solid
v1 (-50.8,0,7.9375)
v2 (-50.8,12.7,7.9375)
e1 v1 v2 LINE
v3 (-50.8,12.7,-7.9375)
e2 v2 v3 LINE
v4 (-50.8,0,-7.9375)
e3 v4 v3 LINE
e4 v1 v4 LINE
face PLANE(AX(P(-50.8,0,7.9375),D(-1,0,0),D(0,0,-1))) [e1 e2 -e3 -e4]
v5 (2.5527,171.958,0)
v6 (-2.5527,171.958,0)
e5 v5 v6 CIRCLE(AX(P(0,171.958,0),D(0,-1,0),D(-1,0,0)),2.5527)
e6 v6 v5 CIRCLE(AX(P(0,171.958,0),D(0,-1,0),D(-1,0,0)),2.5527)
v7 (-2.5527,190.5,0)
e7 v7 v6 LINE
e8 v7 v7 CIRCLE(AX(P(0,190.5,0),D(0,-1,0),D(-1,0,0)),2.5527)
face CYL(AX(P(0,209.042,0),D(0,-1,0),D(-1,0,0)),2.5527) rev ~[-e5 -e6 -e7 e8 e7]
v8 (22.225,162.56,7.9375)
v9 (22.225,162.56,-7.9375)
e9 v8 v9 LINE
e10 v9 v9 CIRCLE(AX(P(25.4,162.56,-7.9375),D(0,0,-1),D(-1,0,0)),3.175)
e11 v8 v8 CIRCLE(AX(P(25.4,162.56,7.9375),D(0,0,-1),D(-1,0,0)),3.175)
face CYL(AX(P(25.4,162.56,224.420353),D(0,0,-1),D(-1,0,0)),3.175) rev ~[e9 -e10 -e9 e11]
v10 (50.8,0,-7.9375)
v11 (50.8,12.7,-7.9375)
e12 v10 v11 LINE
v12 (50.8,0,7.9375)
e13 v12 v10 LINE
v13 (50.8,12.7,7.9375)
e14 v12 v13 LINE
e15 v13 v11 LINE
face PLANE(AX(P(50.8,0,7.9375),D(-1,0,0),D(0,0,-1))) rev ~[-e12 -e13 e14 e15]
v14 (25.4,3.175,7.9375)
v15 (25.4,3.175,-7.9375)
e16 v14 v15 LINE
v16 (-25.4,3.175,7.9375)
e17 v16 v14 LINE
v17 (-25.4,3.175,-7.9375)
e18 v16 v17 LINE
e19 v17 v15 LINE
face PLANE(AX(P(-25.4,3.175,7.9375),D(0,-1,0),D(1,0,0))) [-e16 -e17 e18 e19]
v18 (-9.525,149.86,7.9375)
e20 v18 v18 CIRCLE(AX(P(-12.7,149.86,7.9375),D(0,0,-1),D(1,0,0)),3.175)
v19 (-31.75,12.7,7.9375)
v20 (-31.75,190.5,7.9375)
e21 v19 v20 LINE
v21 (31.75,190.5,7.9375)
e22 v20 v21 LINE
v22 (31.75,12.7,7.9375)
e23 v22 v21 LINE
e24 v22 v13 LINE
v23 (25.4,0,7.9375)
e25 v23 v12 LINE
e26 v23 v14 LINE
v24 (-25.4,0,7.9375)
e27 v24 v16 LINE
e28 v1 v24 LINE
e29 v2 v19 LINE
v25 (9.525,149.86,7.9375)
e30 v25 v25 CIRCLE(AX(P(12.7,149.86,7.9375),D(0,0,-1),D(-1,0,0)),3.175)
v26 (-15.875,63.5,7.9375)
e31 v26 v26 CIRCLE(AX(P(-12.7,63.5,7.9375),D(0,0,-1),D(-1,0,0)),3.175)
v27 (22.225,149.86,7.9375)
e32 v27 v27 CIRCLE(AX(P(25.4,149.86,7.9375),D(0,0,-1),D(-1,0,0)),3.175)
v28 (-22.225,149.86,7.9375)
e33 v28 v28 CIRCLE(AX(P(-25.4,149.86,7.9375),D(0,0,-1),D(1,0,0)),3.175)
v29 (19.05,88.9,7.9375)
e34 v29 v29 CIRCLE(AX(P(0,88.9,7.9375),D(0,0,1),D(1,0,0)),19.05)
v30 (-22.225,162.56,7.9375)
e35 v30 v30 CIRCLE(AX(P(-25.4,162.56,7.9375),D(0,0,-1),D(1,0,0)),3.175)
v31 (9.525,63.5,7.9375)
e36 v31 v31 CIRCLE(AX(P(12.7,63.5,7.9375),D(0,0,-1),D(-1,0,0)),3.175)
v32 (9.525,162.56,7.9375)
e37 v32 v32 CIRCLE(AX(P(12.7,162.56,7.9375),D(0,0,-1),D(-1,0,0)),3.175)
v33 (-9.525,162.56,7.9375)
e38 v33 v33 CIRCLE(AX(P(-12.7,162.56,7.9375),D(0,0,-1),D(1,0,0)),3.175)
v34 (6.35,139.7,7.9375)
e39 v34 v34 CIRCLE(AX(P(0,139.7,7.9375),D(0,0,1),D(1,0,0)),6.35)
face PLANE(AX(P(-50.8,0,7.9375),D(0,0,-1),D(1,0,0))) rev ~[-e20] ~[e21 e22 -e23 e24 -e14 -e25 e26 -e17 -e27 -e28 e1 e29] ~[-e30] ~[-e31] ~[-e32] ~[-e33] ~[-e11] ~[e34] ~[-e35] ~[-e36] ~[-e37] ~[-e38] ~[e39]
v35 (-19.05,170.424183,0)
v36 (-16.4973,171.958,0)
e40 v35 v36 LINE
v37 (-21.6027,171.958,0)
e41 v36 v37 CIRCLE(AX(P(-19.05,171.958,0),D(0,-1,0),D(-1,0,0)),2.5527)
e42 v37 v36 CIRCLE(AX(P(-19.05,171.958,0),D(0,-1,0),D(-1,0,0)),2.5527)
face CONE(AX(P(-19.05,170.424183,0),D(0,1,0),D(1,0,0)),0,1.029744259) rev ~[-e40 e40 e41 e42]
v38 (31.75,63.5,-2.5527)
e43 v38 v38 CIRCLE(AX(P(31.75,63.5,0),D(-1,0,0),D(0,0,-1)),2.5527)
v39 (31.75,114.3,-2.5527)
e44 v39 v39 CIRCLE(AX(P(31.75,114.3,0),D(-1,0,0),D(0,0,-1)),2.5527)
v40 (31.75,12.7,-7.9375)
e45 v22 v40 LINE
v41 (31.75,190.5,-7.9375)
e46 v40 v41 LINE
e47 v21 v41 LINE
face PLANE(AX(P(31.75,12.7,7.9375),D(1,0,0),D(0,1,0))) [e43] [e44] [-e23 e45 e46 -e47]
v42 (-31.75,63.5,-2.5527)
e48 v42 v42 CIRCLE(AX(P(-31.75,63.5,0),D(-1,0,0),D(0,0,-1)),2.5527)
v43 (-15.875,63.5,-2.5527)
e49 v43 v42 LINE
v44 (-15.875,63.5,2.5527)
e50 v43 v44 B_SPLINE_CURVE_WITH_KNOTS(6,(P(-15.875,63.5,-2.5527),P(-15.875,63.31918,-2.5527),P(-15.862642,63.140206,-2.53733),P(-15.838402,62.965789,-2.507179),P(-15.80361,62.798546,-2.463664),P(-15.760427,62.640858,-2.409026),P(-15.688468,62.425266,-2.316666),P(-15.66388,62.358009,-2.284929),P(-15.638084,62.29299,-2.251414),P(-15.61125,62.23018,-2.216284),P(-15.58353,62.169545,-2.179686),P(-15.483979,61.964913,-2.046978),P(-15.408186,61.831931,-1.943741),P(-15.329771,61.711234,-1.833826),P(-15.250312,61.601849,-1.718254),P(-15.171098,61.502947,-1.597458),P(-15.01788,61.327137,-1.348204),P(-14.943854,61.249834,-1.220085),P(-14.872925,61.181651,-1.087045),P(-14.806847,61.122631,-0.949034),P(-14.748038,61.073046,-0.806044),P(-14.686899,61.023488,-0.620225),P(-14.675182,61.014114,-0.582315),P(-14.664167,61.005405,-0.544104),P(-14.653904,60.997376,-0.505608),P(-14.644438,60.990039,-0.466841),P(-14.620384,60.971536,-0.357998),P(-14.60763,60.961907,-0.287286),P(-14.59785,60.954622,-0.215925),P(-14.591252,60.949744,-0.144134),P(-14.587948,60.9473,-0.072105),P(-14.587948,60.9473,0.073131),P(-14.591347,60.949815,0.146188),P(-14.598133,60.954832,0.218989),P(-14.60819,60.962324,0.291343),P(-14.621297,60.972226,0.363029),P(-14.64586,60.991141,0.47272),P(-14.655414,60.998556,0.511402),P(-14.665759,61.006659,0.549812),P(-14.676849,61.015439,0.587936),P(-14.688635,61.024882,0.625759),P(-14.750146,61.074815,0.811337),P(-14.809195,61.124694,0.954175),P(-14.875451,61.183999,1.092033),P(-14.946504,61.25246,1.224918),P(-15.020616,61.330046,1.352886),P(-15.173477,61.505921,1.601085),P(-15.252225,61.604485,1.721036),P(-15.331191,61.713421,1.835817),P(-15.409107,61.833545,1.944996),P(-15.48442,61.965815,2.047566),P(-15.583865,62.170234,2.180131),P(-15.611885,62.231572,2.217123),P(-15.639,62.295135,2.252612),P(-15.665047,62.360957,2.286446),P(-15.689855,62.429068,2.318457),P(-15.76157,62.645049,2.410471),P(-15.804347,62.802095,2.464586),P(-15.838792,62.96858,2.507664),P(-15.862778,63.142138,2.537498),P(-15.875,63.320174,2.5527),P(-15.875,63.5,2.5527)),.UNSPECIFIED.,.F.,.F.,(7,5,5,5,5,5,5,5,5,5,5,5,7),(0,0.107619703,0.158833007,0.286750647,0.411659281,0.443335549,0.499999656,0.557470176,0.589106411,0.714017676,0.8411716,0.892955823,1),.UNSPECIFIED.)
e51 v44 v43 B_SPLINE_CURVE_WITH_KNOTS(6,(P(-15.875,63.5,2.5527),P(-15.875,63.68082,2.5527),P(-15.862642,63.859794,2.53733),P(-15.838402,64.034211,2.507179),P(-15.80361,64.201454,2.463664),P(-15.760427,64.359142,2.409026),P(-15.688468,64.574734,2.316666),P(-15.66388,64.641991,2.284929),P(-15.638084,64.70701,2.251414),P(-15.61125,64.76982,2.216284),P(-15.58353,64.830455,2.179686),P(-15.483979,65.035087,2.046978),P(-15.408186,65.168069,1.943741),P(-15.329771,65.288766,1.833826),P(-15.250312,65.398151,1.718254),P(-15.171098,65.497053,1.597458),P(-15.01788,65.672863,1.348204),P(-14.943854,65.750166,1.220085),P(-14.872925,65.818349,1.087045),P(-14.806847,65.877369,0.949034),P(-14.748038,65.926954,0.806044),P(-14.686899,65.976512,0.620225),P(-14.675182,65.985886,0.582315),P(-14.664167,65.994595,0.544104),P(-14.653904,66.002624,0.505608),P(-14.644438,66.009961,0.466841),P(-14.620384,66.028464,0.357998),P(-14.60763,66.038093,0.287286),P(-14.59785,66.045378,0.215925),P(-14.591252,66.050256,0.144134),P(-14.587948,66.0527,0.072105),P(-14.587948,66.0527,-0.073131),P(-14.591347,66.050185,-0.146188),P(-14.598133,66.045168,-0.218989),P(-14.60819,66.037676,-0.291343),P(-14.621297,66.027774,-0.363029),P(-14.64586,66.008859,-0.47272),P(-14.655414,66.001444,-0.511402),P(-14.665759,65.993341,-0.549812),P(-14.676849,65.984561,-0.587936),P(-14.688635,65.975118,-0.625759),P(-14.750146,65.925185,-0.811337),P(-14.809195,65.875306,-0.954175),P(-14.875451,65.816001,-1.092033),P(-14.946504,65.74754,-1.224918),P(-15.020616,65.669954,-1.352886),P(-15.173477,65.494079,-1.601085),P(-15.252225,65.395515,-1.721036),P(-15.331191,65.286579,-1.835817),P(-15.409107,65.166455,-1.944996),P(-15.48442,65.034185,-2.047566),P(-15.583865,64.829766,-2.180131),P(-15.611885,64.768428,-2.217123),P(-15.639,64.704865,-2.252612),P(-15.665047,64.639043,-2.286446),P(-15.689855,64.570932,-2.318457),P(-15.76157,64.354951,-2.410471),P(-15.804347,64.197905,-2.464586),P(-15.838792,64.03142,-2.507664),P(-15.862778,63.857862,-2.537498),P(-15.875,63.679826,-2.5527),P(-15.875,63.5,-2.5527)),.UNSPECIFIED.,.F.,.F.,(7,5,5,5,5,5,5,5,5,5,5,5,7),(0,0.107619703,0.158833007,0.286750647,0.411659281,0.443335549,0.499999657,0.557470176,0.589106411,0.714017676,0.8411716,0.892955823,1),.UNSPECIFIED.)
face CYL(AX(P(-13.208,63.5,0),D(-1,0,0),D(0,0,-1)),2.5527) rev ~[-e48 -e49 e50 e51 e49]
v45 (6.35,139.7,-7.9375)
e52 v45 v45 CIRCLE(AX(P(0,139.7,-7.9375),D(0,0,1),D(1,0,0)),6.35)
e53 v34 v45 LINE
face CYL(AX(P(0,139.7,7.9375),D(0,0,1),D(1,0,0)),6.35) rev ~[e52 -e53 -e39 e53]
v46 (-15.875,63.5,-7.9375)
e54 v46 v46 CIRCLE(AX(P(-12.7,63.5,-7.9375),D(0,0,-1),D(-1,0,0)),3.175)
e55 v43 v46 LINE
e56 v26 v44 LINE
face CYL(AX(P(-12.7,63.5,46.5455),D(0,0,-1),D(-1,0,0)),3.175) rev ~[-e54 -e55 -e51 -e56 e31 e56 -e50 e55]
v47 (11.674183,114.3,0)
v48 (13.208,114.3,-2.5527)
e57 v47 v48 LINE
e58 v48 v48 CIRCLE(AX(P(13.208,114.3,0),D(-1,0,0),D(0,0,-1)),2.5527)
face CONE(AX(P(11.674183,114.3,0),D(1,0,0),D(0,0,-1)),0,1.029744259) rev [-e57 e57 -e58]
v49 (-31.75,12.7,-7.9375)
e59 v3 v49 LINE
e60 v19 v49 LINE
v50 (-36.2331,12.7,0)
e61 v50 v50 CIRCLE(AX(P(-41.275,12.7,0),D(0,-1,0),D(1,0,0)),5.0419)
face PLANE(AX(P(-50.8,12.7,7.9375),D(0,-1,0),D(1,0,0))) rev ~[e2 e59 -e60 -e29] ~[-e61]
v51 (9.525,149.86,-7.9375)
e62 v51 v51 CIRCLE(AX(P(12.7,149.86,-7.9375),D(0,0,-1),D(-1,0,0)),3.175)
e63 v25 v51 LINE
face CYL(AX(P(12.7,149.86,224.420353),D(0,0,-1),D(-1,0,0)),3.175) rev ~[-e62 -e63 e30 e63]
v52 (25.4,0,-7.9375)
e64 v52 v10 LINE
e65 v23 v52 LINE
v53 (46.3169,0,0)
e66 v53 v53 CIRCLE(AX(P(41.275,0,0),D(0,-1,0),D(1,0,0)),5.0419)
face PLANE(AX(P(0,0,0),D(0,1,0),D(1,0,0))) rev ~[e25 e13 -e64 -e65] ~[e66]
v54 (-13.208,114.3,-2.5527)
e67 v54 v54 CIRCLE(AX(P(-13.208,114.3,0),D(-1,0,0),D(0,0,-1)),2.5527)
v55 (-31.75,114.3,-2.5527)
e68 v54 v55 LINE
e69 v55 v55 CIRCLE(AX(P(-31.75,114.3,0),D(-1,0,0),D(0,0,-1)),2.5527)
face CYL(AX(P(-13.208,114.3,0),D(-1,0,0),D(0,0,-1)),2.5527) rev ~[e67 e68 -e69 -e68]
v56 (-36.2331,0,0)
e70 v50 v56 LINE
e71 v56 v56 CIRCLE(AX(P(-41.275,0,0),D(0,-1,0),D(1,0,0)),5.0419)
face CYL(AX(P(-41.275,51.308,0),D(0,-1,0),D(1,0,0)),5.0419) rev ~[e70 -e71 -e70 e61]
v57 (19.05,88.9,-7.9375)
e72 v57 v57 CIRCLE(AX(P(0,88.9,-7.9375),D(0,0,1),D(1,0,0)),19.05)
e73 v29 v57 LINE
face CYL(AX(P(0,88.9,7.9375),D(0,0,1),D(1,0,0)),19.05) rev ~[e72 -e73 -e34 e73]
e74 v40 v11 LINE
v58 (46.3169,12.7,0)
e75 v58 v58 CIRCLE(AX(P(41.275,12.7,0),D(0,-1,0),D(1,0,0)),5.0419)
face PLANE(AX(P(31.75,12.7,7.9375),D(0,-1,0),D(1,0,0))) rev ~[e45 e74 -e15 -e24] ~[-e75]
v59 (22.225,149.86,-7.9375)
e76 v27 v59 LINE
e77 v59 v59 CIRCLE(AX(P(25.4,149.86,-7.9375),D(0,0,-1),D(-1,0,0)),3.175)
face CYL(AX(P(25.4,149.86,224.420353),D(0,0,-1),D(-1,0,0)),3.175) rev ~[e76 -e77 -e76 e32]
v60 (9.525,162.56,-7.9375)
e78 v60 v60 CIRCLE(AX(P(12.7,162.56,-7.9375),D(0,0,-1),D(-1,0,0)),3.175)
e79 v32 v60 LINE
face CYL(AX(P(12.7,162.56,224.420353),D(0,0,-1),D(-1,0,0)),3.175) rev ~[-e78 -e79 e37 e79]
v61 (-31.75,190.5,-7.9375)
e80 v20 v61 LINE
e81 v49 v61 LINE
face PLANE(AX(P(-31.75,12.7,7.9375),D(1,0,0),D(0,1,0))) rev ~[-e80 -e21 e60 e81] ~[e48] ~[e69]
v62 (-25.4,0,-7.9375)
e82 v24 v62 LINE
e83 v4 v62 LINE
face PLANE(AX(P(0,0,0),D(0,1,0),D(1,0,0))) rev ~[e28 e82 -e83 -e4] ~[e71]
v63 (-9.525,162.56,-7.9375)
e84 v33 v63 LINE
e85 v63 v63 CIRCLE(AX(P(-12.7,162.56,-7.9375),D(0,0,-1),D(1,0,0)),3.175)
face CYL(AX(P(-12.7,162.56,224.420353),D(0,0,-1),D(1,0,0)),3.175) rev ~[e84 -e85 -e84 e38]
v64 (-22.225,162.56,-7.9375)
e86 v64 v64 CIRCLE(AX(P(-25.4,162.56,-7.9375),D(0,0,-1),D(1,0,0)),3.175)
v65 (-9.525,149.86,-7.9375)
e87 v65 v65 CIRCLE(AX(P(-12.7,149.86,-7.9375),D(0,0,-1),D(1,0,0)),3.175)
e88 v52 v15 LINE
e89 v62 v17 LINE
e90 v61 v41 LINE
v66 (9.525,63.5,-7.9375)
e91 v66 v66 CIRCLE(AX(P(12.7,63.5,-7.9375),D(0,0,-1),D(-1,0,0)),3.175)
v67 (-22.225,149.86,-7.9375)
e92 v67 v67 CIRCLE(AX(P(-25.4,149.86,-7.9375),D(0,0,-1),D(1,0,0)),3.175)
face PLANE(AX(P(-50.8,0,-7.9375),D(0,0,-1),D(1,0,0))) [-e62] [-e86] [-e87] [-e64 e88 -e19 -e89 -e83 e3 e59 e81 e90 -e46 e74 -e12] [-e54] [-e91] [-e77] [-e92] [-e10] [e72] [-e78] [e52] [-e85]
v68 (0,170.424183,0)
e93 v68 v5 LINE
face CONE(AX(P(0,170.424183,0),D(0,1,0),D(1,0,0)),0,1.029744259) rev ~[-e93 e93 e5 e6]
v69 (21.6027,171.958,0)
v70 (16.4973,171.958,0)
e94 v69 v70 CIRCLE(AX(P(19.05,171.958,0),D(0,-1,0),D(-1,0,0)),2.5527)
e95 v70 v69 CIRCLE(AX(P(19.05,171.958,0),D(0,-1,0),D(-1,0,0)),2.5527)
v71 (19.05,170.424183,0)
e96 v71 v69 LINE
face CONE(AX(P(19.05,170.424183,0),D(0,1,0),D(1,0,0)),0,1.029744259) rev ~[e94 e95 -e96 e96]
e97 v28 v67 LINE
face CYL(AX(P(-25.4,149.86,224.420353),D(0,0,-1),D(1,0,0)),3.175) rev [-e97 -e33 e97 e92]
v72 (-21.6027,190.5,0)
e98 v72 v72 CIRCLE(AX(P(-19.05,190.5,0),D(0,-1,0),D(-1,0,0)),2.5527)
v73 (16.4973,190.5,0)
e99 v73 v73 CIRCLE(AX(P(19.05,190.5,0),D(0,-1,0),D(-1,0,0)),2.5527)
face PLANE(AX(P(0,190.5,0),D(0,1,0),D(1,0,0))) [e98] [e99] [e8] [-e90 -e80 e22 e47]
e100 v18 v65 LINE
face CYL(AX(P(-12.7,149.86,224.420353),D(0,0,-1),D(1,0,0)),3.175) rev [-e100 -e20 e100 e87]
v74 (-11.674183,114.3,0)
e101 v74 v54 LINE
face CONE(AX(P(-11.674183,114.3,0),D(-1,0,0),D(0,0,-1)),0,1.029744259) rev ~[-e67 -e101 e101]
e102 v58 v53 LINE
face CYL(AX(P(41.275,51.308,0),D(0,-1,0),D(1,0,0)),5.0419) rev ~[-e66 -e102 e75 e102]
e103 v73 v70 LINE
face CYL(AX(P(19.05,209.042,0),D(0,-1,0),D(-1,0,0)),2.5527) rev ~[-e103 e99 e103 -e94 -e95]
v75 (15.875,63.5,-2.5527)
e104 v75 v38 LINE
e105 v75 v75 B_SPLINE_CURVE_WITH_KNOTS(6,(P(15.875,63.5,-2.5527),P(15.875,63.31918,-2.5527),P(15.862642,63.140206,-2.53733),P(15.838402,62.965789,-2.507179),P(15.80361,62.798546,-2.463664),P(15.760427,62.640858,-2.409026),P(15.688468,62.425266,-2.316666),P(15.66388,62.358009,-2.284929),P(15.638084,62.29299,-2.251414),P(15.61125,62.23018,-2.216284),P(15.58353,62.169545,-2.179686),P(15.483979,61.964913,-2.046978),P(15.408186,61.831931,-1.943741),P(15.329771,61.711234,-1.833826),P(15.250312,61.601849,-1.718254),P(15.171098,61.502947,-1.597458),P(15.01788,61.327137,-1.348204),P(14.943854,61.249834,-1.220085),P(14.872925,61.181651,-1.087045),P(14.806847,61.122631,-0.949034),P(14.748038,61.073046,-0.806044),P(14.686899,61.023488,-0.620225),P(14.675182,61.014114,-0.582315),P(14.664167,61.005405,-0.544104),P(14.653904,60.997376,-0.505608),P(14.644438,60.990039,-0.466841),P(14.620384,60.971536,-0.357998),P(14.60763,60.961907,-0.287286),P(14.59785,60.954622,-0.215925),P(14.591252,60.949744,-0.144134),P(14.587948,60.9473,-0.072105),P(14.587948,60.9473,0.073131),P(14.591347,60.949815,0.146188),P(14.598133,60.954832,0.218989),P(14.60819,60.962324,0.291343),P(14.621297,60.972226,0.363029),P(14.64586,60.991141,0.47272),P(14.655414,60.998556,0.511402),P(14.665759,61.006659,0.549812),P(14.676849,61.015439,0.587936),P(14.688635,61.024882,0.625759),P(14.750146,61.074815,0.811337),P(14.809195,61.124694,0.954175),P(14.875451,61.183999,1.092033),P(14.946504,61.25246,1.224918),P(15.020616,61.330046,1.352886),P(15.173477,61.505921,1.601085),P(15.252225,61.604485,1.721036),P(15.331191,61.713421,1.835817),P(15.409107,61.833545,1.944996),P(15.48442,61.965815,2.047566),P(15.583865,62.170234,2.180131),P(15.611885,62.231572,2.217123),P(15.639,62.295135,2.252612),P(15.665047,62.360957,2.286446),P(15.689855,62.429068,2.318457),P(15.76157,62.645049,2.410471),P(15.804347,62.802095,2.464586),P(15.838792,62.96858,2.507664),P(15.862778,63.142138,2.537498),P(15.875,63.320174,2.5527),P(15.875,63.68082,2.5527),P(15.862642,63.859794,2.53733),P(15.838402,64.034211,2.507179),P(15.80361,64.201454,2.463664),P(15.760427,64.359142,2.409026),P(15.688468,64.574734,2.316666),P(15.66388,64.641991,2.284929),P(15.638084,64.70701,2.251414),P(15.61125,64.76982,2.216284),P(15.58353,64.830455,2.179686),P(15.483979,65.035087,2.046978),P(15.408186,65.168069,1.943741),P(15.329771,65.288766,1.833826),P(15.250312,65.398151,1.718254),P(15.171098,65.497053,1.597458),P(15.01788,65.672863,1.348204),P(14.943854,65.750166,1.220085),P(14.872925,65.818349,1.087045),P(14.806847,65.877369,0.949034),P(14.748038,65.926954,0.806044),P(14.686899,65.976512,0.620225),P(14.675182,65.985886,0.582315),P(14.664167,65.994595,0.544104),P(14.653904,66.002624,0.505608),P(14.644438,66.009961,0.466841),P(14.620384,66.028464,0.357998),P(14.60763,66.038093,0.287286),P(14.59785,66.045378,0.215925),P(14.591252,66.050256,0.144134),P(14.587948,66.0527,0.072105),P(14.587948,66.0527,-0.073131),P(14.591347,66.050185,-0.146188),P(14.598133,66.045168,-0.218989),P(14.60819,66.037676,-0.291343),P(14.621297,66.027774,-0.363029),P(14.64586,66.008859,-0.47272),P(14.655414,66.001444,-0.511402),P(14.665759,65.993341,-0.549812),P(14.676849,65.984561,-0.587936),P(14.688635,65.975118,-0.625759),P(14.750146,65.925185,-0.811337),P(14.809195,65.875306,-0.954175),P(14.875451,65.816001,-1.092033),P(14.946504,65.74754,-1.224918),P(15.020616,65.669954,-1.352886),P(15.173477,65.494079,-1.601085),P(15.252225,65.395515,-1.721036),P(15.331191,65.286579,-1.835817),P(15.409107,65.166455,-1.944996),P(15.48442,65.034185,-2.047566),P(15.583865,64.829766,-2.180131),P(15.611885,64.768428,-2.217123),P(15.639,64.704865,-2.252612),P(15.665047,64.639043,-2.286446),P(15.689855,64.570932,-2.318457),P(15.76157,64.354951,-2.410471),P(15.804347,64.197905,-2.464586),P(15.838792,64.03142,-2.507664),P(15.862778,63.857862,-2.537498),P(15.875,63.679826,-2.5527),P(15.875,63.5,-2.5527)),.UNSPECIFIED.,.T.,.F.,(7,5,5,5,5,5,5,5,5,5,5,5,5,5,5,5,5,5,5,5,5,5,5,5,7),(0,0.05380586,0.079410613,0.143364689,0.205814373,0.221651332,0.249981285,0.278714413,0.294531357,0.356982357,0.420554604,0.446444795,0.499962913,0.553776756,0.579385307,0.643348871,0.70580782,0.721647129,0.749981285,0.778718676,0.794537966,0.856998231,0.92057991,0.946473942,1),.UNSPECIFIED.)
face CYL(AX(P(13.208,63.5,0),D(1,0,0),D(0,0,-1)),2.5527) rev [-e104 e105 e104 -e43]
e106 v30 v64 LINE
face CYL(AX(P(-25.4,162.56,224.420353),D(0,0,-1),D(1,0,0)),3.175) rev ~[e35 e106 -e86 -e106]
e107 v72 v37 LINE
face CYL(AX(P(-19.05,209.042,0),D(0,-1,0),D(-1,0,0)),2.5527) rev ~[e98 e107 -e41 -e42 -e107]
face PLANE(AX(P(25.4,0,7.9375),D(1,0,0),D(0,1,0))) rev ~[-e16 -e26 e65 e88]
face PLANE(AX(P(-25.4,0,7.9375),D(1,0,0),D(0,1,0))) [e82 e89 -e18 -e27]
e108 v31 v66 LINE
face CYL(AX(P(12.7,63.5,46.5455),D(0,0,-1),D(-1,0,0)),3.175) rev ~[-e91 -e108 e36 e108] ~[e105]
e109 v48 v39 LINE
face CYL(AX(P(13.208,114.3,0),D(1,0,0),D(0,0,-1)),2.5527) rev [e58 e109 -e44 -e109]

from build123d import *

# Parameters (mm, degrees)
SKETCH1_W                        = 101.6
SKETCH1_H                        = 15.875
BOSS_EXTRUDE1_DEPTH              = 190.5
CUT_EXTRUDE1_REACH               = 199.795
SKETCH2_W                        = 19.05
SKETCH2_H                        = 177.8
CUT_EXTRUDE2_REACH               = 199.795
SKETCH4_W                        = 50.8
SKETCH4_H                        = 3.175
F_3_8_CLEARANCE_HOLE1_D          = 10.0838
F_3_8_CLEARANCE_HOLE1_DEPTH      = 38.608
F_3_8_CLEARANCE_HOLE1_TIP        = 3.029479155
F_1_4_0_25_DIAMETER_HOLE2_D      = 6.35
CUT_EXTRUDE3_REACH               = 199.795
SKETCH11_R                       = 19.05
F_1_4_20_TAPPED_HOLE2_D          = 5.1054
F_1_4_20_TAPPED_HOLE2_DEPTH      = 18.542
F_1_4_20_TAPPED_HOLE2_TIP        = 1.533816902
LPATTERN1_COUNT                  = 2
LPATTERN1_PITCH                  = 12.7
F_1_4_0_25_DIAMETER_HOLE1_D      = 6.35
F_1_4_0_25_DIAMETER_HOLE1_DEPTH  = 38.608
F_1_4_0_25_DIAMETER_HOLE1_TIP    = 1.907732465
F_1_4_20_TAPPED_HOLE3_AT_2_COUNT = 2
F_1_4_20_TAPPED_HOLE3_AT_2_PITCH = 50.8
CUT_EXTRUDE4_REACH               = 199.795
SKETCH19_R                       = 6.35
MIRROR3_COPY_1_D                 = 6.35


with BuildPart() as part:
    # Sketch1 → Boss-Extrude1 (new body)
    with BuildSketch(Plane(origin=(0, 0, 0), x_dir=(1, 0, 0), z_dir=(0, 1, 0))):
        Rectangle(SKETCH1_W, SKETCH1_H)
    extrude(amount=BOSS_EXTRUDE1_DEPTH)

    # Sketch2 → Cut-Extrude1 (cut, up to next)
    with BuildSketch(Plane.XY.offset(7.9375), mode=Mode.PRIVATE) as cut_extrude1_sk1:
        with Locations((-41.275, 101.6)):
            Rectangle(SKETCH2_W, SKETCH2_H)
    cut_extrude1_tool1 = extrude(cut_extrude1_sk1.sketch, amount=-CUT_EXTRUDE1_REACH, mode=Mode.PRIVATE) & part.part
    # Sketch2 → Cut-Extrude1 (cut, up to next)
    with BuildSketch(Plane.XY.offset(7.9375), mode=Mode.PRIVATE) as cut_extrude1_sk2:
        with Locations((41.275, 101.6)):
            Rectangle(SKETCH2_W, SKETCH2_H)
    cut_extrude1_tool2 = extrude(cut_extrude1_sk2.sketch, amount=-CUT_EXTRUDE1_REACH, mode=Mode.PRIVATE) & part.part
    add(cut_extrude1_tool1.solids().sort_by_distance((-41.275, 101.6, 7.9375))[0], mode=Mode.SUBTRACT)
    add(cut_extrude1_tool2.solids().sort_by_distance((41.275, 101.6, 7.9375))[0], mode=Mode.SUBTRACT)

    # Sketch4 → Cut-Extrude2 (cut, up to next)
    with BuildSketch(Plane.XY.offset(7.9375), mode=Mode.PRIVATE) as cut_extrude2_sk1:
        with Locations((0, 1.5875)):
            Rectangle(SKETCH4_W, SKETCH4_H)
    cut_extrude2_tool1 = extrude(cut_extrude2_sk1.sketch, amount=-CUT_EXTRUDE2_REACH, mode=Mode.PRIVATE) & part.part
    add(cut_extrude2_tool1.solids().sort_by_distance((0, 1.5875, 7.9375))[0], mode=Mode.SUBTRACT)

    # 3/8 Clearance Hole1
    with Locations(Plane(origin=(0, 12.7, 0), x_dir=(-1, 0, 0), z_dir=(0, 1, 0))):
        with Locations((41.275, 0), (-41.275, 0)):
            Hole(F_3_8_CLEARANCE_HOLE1_D / 2, depth=F_3_8_CLEARANCE_HOLE1_DEPTH)
            with Locations((0, 0, -(F_3_8_CLEARANCE_HOLE1_DEPTH + F_3_8_CLEARANCE_HOLE1_TIP / 2))):  # 118° drill point
                Cone(0, F_3_8_CLEARANCE_HOLE1_D / 2, F_3_8_CLEARANCE_HOLE1_TIP, mode=Mode.SUBTRACT)

    # 1/4 (0.25) Diameter Hole2 (through all)
    with Locations(Plane.XY.offset(7.9375)):
        with Locations((12.7, 149.86), (25.4, 149.86)):
            f_1_4_0_25_diameter_hole2 = Hole(F_1_4_0_25_DIAMETER_HOLE2_D / 2)

    # Sketch11 → Cut-Extrude3 (cut, up to next)
    with BuildSketch(Plane.XY.offset(7.9375), mode=Mode.PRIVATE) as cut_extrude3_sk1:
        with Locations((0, 88.9)):
            Circle(SKETCH11_R)
    cut_extrude3_tool1 = extrude(cut_extrude3_sk1.sketch, amount=-CUT_EXTRUDE3_REACH, mode=Mode.PRIVATE) & part.part
    add(cut_extrude3_tool1.solids().sort_by_distance((0, 88.9, 7.9375))[0], mode=Mode.SUBTRACT)

    # 1/4-20 Tapped Hole2
    with Locations(Plane(origin=(0, 190.5, 0), x_dir=(1, 0, 0), z_dir=(0, 1, 0))):
        with Locations((-19.05, 0), (19.05, 0), (0, 0)):
            Hole(F_1_4_20_TAPPED_HOLE2_D / 2, depth=F_1_4_20_TAPPED_HOLE2_DEPTH)
            with Locations((0, 0, -(F_1_4_20_TAPPED_HOLE2_DEPTH + F_1_4_20_TAPPED_HOLE2_TIP / 2))):  # 118° drill point
                Cone(0, F_1_4_20_TAPPED_HOLE2_D / 2, F_1_4_20_TAPPED_HOLE2_TIP, mode=Mode.SUBTRACT)

    # LPattern1: 1/4 (0.25) Diameter Hole2 ×2
    with Locations(*[(0, i * LPATTERN1_PITCH, 0) for i in range(1, LPATTERN1_COUNT)]):
        add(f_1_4_0_25_diameter_hole2, mode=Mode.SUBTRACT)

    # 1/4 (0.25) Diameter Hole1
    with Locations(Plane.XY.offset(7.9375)):
        with Locations((-12.7, 63.5), (12.7, 63.5)):
            Hole(F_1_4_0_25_DIAMETER_HOLE1_D / 2, depth=F_1_4_0_25_DIAMETER_HOLE1_DEPTH)
            with Locations((0, 0, -(F_1_4_0_25_DIAMETER_HOLE1_DEPTH + F_1_4_0_25_DIAMETER_HOLE1_TIP / 2))):  # 118° drill point
                Cone(0, F_1_4_0_25_DIAMETER_HOLE1_D / 2, F_1_4_0_25_DIAMETER_HOLE1_TIP, mode=Mode.SUBTRACT)

    # Sketch17 → 1/4-20 Tapped Hole3 (revolve, cut)
    with BuildSketch(Plane(origin=(31.75, 114.3, 0), x_dir=(0, 0, -1), z_dir=(0, 1, 0))):
        Polygon((0, 0), (0, 20.075816902), (2.5527, 18.542), (2.5527, 0), align=None)
    f_1_4_20_tapped_hole3 = revolve(axis=Axis((38.1, 114.3, 0), (-1, 0, 0)), mode=Mode.SUBTRACT)

    # 1/4-20 Tapped Hole3 at 2: 1/4-20 Tapped Hole3 ×2
    with Locations(*[(0, -i * F_1_4_20_TAPPED_HOLE3_AT_2_PITCH, 0) for i in range(1, F_1_4_20_TAPPED_HOLE3_AT_2_COUNT)]):
        add(f_1_4_20_tapped_hole3, mode=Mode.SUBTRACT)

    # Mirror2: 1/4-20 Tapped Hole3 across plane
    add(f_1_4_20_tapped_hole3.mirror(Plane(origin=(0, 0, 0), x_dir=(0, 0, 1), z_dir=(1, 0, 0))), mode=Mode.SUBTRACT)

    # Mirror2 copy 1 sketch → Mirror2 copy 1 (revolve, cut)
    with BuildSketch(Plane(origin=(-31.75, 63.5, 0), x_dir=(0, 0, -1), z_dir=(0, 1, 0))):
        Polygon((0, 0), (0, -20.075816902), (2.5527, -18.542), (2.5527, 0), align=None)
    revolve(axis=Axis((-38.1, 63.5, 0), (-1, 0, 0)), mode=Mode.SUBTRACT)

    # Sketch19 → Cut-Extrude4 (cut, up to next)
    with BuildSketch(Plane.XY.offset(7.9375), mode=Mode.PRIVATE) as cut_extrude4_sk1:
        with Locations((0, 139.7)):
            Circle(SKETCH19_R)
    cut_extrude4_tool1 = extrude(cut_extrude4_sk1.sketch, amount=-CUT_EXTRUDE4_REACH, mode=Mode.PRIVATE) & part.part
    add(cut_extrude4_tool1.solids().sort_by_distance((0, 139.7, 7.9375))[0], mode=Mode.SUBTRACT)

    # Mirror3: 1/4 (0.25) Diameter Hole2 across plane
    add(f_1_4_0_25_diameter_hole2.mirror(Plane(origin=(0, 0, 0), x_dir=(0, 0, 1), z_dir=(1, 0, 0))), mode=Mode.SUBTRACT)

    # Mirror3 copy 1 (through all)
    with Locations(Plane(origin=(0, 12.7, 7.9375), x_dir=(-1, 0, 0), z_dir=(0, 0, 1))):
        with Locations((12.7, -149.86), (25.4, -149.86)):
            Hole(MIRROR3_COPY_1_D / 2)


solid = part.part
